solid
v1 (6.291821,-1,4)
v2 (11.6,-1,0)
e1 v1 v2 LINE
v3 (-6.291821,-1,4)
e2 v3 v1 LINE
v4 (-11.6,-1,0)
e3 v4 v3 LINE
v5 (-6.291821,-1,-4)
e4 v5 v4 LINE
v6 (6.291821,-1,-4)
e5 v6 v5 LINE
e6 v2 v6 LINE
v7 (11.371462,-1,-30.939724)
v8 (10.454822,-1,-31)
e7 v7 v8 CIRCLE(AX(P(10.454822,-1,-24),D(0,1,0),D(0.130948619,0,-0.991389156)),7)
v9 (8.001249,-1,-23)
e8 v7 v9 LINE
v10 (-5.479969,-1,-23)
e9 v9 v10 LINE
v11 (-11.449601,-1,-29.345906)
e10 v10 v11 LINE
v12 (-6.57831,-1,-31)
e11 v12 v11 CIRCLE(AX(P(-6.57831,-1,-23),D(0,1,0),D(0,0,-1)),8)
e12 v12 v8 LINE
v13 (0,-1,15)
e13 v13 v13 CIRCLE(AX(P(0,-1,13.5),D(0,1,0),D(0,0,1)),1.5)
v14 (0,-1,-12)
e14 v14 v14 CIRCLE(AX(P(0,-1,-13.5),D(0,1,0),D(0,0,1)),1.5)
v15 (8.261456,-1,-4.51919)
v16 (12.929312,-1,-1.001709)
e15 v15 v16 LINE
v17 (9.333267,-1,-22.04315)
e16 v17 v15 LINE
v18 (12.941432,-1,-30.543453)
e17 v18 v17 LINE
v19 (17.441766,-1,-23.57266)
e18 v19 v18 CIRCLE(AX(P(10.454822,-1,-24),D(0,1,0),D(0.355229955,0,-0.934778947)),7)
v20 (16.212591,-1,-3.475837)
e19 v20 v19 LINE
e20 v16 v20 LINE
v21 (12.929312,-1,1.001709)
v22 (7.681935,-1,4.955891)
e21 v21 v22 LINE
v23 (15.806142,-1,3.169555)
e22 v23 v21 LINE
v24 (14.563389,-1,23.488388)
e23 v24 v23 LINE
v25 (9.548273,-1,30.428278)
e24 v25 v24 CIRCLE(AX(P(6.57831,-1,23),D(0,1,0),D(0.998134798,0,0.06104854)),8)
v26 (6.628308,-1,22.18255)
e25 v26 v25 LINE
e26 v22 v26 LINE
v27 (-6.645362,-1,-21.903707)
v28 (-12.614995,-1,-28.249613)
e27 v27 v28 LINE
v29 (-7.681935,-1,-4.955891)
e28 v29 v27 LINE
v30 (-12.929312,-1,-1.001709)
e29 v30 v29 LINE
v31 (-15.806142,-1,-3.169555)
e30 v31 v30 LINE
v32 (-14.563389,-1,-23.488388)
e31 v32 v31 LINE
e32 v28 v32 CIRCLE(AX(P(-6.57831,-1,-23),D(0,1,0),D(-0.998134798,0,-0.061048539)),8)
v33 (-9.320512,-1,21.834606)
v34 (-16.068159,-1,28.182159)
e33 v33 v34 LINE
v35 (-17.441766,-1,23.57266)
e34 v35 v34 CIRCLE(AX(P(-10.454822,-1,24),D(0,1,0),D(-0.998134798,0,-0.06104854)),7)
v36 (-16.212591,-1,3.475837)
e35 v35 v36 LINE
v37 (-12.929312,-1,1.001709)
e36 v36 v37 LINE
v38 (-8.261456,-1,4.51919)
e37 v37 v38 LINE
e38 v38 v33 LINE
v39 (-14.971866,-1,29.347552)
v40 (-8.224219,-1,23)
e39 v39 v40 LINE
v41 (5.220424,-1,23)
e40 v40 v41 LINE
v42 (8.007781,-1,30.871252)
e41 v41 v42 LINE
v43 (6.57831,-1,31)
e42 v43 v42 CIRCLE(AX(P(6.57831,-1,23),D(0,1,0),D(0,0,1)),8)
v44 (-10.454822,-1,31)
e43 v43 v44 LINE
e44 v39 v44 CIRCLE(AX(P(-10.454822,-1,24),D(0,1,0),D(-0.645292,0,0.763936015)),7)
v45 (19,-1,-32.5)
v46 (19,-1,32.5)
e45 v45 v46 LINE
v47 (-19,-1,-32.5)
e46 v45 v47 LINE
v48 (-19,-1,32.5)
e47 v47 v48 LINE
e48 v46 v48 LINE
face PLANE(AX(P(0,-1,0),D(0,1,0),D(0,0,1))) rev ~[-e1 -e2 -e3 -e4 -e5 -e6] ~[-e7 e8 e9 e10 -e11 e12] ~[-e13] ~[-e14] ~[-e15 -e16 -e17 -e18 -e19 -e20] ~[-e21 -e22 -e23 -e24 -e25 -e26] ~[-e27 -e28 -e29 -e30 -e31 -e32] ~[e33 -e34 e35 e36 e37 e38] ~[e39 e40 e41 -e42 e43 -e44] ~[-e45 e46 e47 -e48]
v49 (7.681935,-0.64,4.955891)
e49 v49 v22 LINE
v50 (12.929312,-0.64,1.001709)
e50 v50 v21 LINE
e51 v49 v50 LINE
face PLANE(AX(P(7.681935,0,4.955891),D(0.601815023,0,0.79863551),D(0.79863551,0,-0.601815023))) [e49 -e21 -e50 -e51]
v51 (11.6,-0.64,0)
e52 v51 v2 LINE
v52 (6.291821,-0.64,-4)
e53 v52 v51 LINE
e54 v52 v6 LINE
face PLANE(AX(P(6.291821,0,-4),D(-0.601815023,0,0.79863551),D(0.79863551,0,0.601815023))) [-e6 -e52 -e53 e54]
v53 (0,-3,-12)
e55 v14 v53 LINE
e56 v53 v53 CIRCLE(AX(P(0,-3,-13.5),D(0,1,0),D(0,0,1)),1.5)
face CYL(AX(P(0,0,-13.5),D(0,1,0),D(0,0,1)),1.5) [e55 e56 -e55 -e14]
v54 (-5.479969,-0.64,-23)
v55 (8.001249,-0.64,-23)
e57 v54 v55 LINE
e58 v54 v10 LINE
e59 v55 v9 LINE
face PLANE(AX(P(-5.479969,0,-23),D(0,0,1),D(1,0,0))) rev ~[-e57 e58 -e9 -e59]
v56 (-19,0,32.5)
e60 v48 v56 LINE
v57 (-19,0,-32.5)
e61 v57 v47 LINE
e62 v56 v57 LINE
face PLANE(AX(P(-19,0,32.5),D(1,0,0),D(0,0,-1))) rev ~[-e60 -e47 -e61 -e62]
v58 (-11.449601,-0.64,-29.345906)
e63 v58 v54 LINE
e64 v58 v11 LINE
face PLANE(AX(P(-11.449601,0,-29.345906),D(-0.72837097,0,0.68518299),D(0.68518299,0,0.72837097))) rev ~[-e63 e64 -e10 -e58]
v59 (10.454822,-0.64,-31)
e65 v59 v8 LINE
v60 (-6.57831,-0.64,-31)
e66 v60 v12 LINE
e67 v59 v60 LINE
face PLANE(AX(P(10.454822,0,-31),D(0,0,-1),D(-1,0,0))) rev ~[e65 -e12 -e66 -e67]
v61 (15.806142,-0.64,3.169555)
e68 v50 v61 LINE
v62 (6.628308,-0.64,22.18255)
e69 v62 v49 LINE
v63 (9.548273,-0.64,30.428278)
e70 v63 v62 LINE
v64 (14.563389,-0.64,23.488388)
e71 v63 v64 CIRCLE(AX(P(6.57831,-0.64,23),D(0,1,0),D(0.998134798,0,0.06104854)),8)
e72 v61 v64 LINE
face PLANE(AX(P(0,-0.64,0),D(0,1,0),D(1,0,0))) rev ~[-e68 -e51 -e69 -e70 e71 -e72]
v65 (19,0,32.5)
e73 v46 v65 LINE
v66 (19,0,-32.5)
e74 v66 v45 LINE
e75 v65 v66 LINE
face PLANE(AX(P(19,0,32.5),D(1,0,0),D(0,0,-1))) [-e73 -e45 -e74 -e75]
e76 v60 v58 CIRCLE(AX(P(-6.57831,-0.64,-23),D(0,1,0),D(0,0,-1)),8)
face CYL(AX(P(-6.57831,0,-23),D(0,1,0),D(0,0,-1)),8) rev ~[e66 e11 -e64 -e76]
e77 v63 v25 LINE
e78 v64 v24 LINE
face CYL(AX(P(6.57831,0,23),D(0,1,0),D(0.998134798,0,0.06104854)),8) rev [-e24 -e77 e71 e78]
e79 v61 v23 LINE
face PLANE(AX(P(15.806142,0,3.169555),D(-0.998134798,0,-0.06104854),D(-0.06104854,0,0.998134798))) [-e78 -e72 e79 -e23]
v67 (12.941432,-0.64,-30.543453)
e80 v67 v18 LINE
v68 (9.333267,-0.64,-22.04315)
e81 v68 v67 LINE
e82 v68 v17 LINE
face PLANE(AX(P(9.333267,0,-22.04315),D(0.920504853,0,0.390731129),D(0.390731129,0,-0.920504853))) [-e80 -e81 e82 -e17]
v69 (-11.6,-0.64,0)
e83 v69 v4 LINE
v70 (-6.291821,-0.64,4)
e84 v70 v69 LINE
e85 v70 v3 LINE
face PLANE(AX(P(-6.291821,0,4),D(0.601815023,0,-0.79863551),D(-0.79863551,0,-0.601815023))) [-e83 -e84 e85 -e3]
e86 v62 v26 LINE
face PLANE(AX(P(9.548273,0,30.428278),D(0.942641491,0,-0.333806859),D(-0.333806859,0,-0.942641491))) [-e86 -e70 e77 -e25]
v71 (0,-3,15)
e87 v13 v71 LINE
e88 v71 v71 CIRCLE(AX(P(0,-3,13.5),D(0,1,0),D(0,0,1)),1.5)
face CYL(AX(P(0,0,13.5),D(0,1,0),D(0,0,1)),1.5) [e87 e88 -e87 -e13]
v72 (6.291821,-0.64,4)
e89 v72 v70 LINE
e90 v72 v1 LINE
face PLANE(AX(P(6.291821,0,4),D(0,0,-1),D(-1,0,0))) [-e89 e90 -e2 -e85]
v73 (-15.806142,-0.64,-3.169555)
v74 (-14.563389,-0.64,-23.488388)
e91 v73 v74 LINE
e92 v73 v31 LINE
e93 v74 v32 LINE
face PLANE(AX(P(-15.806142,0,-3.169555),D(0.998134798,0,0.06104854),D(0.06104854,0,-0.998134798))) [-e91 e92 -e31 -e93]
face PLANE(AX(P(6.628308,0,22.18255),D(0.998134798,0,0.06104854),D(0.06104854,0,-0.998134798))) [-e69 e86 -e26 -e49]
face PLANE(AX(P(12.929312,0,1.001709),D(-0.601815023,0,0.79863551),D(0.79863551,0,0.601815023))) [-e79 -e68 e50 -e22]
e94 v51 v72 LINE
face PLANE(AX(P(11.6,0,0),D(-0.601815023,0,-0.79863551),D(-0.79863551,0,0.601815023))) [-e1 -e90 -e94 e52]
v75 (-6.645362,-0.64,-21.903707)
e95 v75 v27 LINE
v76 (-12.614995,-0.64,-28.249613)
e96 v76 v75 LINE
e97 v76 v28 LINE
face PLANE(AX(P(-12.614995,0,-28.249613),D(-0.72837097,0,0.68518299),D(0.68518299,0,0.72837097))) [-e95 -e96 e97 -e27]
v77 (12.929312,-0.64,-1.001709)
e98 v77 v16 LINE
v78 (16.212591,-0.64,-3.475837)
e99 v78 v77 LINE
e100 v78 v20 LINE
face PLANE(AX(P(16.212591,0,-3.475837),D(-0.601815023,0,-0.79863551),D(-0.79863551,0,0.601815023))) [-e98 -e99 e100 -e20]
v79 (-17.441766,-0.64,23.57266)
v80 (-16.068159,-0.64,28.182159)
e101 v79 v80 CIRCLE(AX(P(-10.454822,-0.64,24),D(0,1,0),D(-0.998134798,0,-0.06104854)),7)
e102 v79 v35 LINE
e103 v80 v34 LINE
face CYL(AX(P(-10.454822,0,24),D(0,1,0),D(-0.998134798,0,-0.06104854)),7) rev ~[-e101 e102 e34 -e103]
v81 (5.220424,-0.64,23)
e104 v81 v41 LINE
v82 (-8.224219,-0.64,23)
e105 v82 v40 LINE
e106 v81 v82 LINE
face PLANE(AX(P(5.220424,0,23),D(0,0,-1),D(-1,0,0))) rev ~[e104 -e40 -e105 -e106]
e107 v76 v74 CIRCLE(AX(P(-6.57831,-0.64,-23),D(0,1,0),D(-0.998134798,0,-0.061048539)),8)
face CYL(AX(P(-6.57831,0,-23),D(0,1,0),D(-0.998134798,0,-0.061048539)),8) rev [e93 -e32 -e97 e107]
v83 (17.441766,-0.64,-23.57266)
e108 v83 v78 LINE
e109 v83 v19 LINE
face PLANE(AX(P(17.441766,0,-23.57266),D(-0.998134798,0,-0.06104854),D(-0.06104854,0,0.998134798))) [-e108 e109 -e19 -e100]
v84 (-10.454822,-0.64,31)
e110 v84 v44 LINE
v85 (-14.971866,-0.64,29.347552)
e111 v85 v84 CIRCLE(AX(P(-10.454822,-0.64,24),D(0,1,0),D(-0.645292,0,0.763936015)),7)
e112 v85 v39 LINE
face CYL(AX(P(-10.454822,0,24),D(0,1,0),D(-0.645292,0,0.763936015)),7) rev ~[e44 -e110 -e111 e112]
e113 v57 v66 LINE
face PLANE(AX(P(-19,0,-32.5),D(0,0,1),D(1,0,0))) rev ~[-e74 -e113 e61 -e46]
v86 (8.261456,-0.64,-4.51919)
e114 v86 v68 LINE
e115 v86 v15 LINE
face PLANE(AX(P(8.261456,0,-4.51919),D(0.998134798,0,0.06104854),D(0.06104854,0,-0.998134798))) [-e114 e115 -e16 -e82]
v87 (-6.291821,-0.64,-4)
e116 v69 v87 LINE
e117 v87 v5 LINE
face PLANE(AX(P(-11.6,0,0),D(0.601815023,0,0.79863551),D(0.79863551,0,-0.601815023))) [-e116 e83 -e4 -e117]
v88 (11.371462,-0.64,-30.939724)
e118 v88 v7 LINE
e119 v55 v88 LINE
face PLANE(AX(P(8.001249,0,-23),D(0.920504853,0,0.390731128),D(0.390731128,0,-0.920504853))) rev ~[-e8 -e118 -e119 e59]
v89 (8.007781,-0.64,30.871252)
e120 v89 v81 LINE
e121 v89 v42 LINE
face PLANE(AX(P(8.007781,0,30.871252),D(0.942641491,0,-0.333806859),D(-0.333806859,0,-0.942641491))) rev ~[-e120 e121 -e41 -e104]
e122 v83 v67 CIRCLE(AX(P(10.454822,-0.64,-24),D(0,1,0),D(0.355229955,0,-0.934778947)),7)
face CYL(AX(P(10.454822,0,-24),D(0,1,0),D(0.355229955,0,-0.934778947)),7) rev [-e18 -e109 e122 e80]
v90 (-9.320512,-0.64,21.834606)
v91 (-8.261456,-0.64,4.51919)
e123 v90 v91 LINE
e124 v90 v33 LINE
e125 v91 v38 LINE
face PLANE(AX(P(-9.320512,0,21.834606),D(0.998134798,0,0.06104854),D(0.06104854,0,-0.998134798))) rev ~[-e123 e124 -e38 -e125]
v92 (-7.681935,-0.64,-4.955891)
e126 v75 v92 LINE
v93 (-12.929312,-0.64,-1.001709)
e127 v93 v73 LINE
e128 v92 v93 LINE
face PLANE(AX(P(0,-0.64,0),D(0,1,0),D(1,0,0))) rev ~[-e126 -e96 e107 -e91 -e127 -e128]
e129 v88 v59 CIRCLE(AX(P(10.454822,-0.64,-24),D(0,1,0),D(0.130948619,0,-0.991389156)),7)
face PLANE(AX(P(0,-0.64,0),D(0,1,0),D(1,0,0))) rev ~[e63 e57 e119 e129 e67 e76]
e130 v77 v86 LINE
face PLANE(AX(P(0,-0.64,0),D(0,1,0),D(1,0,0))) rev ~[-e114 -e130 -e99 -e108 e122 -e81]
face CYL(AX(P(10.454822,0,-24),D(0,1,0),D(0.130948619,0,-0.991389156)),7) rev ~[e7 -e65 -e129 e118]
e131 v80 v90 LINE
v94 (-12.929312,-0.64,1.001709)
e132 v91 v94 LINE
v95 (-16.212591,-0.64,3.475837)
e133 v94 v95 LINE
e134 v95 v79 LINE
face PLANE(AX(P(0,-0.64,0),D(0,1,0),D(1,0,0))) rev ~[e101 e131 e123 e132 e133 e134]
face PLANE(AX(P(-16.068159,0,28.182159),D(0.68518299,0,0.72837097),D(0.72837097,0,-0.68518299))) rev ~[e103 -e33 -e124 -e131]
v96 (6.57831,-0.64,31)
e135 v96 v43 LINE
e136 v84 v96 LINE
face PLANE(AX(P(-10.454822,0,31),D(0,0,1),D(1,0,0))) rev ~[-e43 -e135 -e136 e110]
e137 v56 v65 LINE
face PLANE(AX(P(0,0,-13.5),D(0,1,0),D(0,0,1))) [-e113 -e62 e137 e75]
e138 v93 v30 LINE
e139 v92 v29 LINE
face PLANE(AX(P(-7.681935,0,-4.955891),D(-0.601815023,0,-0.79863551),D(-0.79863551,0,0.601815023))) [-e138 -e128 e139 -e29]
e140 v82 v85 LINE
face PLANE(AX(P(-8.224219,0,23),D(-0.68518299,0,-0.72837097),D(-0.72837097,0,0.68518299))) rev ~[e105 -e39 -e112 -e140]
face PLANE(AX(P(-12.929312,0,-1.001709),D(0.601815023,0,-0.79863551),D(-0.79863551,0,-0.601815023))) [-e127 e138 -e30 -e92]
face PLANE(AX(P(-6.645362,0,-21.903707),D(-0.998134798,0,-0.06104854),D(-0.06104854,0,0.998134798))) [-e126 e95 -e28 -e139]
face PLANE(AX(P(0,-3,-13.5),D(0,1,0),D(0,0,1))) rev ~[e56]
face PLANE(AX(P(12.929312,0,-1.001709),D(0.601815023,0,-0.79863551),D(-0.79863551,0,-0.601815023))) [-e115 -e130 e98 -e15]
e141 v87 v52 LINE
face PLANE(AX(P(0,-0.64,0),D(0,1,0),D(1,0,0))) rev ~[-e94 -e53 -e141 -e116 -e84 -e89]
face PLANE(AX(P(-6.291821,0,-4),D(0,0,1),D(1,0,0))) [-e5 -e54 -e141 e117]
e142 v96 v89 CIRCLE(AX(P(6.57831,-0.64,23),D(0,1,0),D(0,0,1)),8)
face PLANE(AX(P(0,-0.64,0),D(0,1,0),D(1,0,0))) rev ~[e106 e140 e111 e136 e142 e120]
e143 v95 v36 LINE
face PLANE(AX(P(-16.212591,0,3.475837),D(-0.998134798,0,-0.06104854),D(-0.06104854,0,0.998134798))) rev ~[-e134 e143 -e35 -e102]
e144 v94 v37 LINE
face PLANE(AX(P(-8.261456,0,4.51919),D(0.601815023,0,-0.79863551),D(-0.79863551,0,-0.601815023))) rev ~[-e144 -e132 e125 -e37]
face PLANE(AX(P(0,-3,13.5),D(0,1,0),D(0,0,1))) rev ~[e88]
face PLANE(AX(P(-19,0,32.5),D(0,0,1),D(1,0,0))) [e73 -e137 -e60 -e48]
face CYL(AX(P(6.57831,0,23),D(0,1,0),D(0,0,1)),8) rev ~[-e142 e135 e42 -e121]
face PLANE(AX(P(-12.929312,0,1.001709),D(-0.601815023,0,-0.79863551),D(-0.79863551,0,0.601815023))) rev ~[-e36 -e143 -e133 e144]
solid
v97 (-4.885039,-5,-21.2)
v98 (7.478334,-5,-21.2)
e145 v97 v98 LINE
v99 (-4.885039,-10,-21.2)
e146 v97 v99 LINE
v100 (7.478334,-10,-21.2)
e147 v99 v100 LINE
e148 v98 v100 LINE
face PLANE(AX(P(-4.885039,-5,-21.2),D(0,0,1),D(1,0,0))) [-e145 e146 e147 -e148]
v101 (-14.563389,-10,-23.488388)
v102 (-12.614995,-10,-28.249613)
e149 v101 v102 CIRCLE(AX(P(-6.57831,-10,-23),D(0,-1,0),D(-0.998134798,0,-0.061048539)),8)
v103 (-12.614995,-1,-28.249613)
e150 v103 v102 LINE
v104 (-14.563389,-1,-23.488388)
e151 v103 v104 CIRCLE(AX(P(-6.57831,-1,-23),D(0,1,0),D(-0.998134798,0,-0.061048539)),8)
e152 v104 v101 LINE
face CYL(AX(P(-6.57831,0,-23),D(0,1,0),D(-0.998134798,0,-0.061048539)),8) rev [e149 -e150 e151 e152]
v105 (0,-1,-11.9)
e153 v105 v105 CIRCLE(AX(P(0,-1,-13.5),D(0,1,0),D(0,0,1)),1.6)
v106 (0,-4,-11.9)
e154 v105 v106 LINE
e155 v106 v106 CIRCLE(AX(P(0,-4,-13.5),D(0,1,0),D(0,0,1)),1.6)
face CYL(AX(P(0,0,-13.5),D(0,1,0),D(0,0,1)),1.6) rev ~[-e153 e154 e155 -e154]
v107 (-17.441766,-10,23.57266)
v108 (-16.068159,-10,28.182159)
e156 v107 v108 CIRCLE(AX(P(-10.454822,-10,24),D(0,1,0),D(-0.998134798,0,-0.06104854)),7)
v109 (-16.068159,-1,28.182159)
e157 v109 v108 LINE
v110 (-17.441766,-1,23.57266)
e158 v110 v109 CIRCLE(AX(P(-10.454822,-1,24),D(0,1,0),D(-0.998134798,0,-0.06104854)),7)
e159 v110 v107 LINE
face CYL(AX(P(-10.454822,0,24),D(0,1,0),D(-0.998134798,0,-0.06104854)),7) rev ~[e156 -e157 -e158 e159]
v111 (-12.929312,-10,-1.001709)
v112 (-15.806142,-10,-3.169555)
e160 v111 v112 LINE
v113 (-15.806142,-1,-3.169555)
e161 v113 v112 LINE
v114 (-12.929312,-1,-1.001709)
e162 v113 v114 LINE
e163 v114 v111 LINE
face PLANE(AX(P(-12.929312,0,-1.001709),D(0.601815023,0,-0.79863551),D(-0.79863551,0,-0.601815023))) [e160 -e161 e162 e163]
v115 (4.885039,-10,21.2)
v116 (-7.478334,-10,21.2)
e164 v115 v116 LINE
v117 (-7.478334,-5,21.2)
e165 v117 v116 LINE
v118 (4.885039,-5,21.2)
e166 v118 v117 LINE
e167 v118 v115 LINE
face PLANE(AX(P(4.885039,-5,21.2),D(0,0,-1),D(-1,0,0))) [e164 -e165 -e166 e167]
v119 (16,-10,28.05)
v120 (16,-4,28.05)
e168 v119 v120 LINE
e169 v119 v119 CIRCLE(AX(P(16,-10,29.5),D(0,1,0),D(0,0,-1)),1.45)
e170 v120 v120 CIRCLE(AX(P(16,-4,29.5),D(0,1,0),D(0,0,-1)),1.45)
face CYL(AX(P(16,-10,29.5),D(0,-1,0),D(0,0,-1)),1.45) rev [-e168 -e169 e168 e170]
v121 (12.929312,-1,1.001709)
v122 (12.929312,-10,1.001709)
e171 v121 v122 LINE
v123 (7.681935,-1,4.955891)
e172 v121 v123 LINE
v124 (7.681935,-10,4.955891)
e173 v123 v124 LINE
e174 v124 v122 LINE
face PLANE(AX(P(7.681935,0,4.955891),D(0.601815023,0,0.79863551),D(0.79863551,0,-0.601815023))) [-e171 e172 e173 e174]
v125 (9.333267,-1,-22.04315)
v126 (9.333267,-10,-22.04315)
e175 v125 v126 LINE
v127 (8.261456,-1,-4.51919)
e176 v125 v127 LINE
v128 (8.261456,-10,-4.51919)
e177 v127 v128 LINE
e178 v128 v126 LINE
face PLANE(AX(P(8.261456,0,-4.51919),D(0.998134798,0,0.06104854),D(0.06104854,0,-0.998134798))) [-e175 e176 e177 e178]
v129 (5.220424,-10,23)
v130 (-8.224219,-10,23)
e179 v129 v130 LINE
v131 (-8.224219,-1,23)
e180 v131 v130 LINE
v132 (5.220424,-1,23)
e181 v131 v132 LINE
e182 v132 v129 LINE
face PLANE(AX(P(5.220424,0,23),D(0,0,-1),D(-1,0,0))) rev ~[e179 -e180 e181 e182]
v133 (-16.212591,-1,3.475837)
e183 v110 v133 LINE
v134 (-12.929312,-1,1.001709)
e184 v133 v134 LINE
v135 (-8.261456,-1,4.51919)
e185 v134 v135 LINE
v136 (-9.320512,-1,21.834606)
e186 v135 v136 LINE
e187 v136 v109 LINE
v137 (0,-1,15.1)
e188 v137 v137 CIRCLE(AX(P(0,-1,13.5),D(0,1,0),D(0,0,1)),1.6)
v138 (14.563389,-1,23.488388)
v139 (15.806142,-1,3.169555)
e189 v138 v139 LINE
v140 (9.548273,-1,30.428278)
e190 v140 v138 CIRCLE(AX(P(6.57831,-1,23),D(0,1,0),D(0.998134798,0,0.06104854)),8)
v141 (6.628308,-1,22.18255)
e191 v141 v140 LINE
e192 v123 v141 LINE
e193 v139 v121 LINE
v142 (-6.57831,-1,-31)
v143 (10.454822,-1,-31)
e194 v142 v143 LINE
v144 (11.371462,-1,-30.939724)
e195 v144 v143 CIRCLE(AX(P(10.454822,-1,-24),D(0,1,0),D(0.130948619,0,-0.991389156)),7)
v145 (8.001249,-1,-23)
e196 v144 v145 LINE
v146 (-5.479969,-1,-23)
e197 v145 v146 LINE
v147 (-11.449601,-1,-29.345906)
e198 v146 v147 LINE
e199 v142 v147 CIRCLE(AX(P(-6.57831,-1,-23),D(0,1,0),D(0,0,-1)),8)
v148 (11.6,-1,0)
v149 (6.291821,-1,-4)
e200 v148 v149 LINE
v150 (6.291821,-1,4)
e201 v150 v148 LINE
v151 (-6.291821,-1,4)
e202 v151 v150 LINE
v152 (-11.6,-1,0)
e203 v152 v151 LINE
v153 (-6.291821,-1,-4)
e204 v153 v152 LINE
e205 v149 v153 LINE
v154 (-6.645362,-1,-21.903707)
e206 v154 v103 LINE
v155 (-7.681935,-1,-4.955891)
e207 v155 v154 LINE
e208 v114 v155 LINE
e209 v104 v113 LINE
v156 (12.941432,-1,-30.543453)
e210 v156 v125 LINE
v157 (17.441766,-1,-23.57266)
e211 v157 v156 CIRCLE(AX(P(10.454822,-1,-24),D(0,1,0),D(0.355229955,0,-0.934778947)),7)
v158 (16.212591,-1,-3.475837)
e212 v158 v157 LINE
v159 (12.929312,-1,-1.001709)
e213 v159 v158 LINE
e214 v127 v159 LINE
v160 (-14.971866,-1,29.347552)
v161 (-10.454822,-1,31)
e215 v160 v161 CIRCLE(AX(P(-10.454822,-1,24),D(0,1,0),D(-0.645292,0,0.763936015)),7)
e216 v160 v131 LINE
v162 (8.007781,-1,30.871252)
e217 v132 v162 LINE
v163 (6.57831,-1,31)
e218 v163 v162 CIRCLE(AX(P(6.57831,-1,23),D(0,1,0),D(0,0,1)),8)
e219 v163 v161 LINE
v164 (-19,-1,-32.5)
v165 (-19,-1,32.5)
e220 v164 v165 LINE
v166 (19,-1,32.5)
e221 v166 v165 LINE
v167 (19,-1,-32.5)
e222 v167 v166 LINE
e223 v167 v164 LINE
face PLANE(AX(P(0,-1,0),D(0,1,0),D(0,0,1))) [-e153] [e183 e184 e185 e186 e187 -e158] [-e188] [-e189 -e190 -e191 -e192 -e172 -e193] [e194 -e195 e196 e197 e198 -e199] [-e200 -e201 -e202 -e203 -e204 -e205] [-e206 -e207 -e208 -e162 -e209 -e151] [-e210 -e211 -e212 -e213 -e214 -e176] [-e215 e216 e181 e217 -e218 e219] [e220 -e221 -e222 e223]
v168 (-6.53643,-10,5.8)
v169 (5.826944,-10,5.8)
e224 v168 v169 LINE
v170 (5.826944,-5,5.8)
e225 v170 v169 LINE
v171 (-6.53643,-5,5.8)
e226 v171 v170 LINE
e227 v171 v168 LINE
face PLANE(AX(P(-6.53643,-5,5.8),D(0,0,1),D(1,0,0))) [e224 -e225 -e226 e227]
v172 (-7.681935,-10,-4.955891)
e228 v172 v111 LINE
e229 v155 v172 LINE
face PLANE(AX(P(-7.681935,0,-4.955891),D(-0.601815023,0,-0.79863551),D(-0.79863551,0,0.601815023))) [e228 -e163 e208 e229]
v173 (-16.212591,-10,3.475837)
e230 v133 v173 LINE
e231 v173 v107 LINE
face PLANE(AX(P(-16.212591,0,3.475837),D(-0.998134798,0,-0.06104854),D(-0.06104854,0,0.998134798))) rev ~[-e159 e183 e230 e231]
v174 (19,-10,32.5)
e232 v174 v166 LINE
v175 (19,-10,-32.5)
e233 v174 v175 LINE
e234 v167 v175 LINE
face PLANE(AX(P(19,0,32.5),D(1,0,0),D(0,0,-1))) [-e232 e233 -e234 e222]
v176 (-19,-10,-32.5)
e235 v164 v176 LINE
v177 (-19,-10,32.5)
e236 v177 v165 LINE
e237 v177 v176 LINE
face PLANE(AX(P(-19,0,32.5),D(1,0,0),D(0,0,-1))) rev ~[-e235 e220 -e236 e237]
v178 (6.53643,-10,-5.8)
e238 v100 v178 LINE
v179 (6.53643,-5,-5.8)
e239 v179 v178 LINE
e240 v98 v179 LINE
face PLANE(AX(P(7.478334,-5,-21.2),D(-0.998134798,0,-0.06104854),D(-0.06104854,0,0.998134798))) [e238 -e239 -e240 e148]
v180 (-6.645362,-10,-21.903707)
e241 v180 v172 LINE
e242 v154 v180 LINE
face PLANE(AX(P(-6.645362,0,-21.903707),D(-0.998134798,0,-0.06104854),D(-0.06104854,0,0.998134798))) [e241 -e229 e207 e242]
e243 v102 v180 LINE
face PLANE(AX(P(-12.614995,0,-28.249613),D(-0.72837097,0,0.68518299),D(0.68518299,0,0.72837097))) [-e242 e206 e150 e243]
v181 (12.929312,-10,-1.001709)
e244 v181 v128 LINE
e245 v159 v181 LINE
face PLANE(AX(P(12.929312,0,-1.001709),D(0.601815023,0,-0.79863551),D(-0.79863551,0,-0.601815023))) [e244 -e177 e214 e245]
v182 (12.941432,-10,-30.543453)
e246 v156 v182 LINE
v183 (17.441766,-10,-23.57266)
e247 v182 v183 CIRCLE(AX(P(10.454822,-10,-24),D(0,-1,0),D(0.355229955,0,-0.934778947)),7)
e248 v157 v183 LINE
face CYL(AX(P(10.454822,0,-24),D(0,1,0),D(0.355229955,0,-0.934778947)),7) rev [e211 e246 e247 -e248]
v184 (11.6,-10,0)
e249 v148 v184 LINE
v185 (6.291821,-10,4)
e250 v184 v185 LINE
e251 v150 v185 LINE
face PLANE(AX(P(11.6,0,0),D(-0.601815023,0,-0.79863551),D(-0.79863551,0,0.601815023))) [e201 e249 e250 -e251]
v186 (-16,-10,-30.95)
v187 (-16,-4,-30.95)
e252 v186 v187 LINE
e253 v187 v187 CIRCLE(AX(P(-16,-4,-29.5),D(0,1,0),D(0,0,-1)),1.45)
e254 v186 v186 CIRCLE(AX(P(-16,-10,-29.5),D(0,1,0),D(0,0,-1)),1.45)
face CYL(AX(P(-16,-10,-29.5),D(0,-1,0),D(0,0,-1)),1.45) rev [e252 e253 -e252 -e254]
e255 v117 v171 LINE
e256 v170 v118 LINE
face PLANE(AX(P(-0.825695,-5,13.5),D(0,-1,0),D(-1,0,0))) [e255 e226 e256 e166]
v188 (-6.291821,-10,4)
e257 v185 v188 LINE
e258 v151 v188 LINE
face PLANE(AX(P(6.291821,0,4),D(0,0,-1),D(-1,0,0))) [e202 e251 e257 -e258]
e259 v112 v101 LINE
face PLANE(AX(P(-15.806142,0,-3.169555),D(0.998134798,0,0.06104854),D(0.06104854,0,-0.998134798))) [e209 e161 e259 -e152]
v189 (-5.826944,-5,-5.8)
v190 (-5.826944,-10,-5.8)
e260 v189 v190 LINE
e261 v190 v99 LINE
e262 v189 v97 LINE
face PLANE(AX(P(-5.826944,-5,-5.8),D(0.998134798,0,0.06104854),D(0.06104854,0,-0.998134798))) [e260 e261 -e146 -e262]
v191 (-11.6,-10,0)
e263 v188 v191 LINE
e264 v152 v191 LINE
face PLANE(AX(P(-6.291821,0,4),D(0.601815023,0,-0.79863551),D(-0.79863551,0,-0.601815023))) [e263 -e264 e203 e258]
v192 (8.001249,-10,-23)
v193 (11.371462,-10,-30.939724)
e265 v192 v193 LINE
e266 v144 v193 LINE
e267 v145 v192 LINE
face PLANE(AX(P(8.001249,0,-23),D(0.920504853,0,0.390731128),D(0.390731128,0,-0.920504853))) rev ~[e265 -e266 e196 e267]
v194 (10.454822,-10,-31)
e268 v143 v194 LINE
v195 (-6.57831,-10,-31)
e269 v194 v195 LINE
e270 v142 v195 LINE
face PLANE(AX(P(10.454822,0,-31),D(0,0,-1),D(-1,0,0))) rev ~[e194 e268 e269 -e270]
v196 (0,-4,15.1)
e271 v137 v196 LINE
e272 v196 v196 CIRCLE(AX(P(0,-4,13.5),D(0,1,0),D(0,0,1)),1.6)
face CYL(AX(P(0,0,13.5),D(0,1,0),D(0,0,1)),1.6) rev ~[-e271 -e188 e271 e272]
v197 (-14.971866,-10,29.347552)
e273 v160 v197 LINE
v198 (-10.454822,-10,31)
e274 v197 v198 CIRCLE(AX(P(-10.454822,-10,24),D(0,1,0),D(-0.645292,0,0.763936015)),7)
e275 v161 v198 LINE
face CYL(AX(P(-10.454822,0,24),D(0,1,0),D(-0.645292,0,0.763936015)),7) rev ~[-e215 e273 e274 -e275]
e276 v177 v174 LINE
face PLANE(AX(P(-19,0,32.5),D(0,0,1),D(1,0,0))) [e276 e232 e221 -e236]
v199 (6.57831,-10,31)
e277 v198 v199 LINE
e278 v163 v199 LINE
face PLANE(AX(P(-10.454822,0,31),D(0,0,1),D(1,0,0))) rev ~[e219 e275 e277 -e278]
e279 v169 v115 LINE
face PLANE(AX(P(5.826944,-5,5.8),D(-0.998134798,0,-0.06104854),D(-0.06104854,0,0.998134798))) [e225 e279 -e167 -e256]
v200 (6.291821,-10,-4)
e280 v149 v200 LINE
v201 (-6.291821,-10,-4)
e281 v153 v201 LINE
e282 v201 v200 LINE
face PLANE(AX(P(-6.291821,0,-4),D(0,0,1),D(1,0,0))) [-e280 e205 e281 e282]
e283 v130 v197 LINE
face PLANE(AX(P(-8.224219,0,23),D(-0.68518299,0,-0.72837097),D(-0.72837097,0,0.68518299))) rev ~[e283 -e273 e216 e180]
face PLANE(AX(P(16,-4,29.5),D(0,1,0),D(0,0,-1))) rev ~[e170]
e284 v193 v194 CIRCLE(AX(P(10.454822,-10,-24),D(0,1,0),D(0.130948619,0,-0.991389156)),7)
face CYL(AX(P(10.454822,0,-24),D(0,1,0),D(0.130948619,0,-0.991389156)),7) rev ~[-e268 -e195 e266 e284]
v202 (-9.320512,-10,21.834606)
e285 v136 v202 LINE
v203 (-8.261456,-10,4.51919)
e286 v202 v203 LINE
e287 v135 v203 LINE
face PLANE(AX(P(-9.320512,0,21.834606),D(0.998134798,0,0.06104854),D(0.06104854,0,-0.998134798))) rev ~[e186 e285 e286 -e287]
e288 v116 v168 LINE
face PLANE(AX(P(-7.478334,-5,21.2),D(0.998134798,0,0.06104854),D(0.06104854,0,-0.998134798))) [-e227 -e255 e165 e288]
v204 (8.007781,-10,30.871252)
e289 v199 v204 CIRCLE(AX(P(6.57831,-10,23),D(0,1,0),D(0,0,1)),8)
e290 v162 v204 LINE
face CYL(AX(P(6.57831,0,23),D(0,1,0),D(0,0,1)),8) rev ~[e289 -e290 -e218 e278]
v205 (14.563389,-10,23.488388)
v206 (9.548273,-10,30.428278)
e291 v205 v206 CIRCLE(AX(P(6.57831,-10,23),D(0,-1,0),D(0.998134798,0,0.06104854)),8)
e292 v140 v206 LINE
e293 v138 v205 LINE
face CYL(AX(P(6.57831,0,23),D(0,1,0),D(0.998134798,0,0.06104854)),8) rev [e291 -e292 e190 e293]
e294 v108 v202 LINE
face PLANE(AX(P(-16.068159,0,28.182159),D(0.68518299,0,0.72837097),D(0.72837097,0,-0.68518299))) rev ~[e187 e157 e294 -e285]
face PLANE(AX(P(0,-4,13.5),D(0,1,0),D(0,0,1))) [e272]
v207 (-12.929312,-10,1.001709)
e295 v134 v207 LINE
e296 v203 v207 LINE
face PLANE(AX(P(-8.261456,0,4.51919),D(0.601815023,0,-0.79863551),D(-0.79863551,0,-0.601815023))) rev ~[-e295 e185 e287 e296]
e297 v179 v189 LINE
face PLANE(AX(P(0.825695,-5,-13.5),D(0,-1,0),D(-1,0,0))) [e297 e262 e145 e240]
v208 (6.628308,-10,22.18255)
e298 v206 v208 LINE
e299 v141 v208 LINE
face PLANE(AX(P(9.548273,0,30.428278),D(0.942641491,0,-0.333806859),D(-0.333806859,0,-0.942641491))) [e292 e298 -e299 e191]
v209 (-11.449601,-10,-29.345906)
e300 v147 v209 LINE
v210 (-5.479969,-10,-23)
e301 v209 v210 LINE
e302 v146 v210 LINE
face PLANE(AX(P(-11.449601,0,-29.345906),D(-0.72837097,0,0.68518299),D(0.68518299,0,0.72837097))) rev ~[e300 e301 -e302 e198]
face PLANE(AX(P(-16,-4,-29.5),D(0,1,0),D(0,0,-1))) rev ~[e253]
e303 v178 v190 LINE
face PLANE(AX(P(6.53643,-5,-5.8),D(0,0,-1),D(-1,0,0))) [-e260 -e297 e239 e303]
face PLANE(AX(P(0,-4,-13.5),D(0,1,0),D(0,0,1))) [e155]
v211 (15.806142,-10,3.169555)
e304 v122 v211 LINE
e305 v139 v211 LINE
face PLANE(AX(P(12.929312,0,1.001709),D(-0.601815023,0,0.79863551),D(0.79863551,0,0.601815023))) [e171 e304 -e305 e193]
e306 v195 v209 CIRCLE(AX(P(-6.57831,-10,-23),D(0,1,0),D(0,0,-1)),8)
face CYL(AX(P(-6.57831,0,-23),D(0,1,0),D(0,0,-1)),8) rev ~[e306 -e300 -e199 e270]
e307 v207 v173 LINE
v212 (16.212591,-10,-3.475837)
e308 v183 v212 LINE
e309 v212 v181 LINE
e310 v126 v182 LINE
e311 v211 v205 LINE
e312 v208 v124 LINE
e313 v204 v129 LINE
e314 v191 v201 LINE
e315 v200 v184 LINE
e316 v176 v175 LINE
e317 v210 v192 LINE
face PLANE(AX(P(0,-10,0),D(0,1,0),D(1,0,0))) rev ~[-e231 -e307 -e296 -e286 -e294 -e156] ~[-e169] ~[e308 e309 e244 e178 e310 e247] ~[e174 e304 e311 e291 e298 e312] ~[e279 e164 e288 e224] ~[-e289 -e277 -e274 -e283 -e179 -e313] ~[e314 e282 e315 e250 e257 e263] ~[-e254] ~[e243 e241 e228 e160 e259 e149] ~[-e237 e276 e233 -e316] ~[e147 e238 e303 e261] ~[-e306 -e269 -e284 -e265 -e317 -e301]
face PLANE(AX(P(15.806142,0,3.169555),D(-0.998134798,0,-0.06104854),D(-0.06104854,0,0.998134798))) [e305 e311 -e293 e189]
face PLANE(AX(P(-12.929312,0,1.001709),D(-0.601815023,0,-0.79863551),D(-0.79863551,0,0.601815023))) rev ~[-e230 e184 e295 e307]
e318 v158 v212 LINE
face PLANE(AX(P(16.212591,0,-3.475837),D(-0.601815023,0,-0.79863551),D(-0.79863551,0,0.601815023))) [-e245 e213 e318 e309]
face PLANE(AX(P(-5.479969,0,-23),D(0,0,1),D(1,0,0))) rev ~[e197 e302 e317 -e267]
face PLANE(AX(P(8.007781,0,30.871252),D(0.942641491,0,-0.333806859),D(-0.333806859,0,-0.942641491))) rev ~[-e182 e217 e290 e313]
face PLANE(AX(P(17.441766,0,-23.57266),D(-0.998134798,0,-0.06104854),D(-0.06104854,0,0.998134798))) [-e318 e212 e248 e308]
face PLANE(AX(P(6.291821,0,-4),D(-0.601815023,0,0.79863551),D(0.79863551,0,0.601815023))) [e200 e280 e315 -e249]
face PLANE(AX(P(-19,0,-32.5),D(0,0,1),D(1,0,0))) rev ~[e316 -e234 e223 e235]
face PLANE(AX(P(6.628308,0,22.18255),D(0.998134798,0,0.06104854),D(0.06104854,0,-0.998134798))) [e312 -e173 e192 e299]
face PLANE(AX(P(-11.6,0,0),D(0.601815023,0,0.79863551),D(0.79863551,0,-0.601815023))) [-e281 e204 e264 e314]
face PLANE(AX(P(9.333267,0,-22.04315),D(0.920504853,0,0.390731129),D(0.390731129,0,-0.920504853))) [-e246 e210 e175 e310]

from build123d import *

# Parameters (mm, degrees)
SKETCH3_W           = 38
SKETCH3_H           = 65
BOSS_EXTRUDE1_DEPTH = 0.64
SKETCH3_3_W         = 38
SKETCH3_3_H         = 65
BOSS_EXTRUDE2_DEPTH = 10
SKETCH6_R           = 1.5
BOSS_EXTRUDE3_DEPTH = 3
SKETCH6_3_R         = 1.6
SKETCH6_3_R_2       = 1.5
CUT_EXTRUDE2_DEPTH  = 4
CUT_EXTRUDE1_START  = -10
SKETCH5_R           = 1.45
CUT_EXTRUDE1_DEPTH  = 6
CUT_EXTRUDE3_START  = -5
SKETCH6_4_R         = 1.6
SKETCH6_4_R_2       = 1.5
CUT_EXTRUDE3_DEPTH  = 5


with BuildPart() as part:
    # Sketch3 → Boss-Extrude1 (new body)
    with BuildSketch(Plane(origin=(0, 0, 0), x_dir=(1, 0, 0), z_dir=(0, 1, 0))):
        Rectangle(SKETCH3_W, SKETCH3_H)
    extrude(amount=-BOSS_EXTRUDE1_DEPTH)

    # Sketch3<3> → Boss-Extrude2 (add)
    with BuildSketch(Plane(origin=(0, 0, 0), x_dir=(1, 0, 0), z_dir=(0, 1, 0))):
        Rectangle(SKETCH3_3_W, SKETCH3_3_H)
        with BuildLine():
            Line((-15.806141704, 3.169555117), (-14.563388627, 23.488388316))
            ThreePointArc((-14.563388627, 23.488388316), (-13.982347964, 26.029888674), (-12.614994756, 28.249613324))
            Line((-12.614994756, 28.249613324), (-6.645362379, 21.903707215))
            Line((-6.645362379, 21.903707215), (-7.681935248, 4.955890615))
            Line((-7.681935248, 4.955890615), (-12.929312113, 1.001708527))
            Line((-12.929312113, 1.001708527), (-15.806141704, 3.169555117))
        make_face(mode=Mode.SUBTRACT)
        with BuildLine():
            Line((-11.449601204, 29.345906109), (-5.479968827, 23))
            Line((-5.479968827, 23), (8.001249484, 23))
            Line((8.001249484, 23), (11.371462409, 30.939724094))
            ThreePointArc((11.371462409, 30.939724094), (10.91413207, 30.984914769), (10.454822074, 31))
            Line((10.454822074, 31), (-6.57831024, 31))
            ThreePointArc((-6.57831024, 31), (-9.150541871, 30.57519798), (-11.449601204, 29.345906109))
        make_face(mode=Mode.SUBTRACT)
        Polygon((-11.6, 0), (-6.291820714, 4), (6.291820714, 4), (11.6, 0), (6.291820714, -4), (-6.291820714, -4), align=None, mode=Mode.SUBTRACT)
        with BuildLine():
            Line((9.333267306, 22.043149873), (12.941431756, 30.543452628))
            ThreePointArc((12.941431756, 30.543452628), (16.335726731, 27.796703889), (17.441765663, 23.572660223))
            Line((17.441765663, 23.572660223), (16.212591289, 3.475836847))
            Line((16.212591289, 3.475836847), (12.929312113, 1.001708527))
            Line((12.929312113, 1.001708527), (8.261456028, 4.519190384))
            Line((8.261456028, 4.519190384), (9.333267306, 22.043149873))
        make_face(mode=Mode.SUBTRACT)
        with BuildLine():
            Line((6.62830762, -22.182550065), (7.681935248, -4.955890615))
            Line((7.681935248, -4.955890615), (12.929312113, -1.001708527))
            Line((12.929312113, -1.001708527), (15.806141704, -3.169555117))
            Line((15.806141704, -3.169555117), (14.563388627, -23.488388316))
            ThreePointArc((14.563388627, -23.488388316), (13.062425539, -27.685749543), (9.548273172, -30.428278413))
            Line((9.548273172, -30.428278413), (6.62830762, -22.182550065))
        make_face(mode=Mode.SUBTRACT)
        with BuildLine():
            Line((8.007780574, -30.871252414), (5.220423905, -23))
            Line((5.220423905, -23), (-8.224219459, -23))
            Line((-8.224219459, -23), (-14.971866072, -29.347552106))
            ThreePointArc((-14.971866072, -29.347552106), (-12.859726985, -30.573920624), (-10.454822074, -31))
            Line((-10.454822074, -31), (6.57831024, -31))
            ThreePointArc((6.57831024, -31), (7.295938517, -30.967748092), (8.007780574, -30.871252414))
        make_face(mode=Mode.SUBTRACT)
        with BuildLine():
            Line((-16.068158856, -28.182158554), (-9.320512244, -21.834606448))
            Line((-9.320512244, -21.834606448), (-8.261456028, -4.519190384))
            Line((-8.261456028, -4.519190384), (-12.929312113, -1.001708527))
            Line((-12.929312113, -1.001708527), (-16.212591289, -3.475836847))
            Line((-16.212591289, -3.475836847), (-17.441765663, -23.572660223))
            ThreePointArc((-17.441765663, -23.572660223), (-17.163296944, -25.999091025), (-16.068158856, -28.182158554))
        make_face(mode=Mode.SUBTRACT)
    extrude(amount=-BOSS_EXTRUDE2_DEPTH)


with BuildPart() as body_2:
    # Split1: the piece on the far side of the plane
    add(part.part)
    split(bisect_by=Plane.ZX.offset(-1), keep=Keep.BOTTOM)

    # Sketch6<3> → Cut-Extrude2 (cut)
    # profile 1 of 4: a face of its own
    with BuildSketch(Plane(origin=(0, 0, 0), x_dir=(1, 0, 0), z_dir=(0, 1, 0))):
        with Locations(Location((0, 13.5, 0), (0, 0, 270))):
            Circle(SKETCH6_3_R)
        with Locations(Location((0, 13.5, 0), (0, 0, 270))):
            Circle(SKETCH6_3_R_2, mode=Mode.SUBTRACT)
    # profile 2 of 4: a face of its own
    with BuildSketch(Plane(origin=(0, 0, 0), x_dir=(1, 0, 0), z_dir=(0, 1, 0))):
        with Locations(Location((0, 13.5, 0), (0, 0, 270))):
            Circle(SKETCH6_3_R_2)
    # profile 3 of 4: a face of its own
    with BuildSketch(Plane(origin=(0, 0, 0), x_dir=(1, 0, 0), z_dir=(0, 1, 0))):
        with Locations(Location((0, -13.5, 0), (0, 0, 270))):
            Circle(SKETCH6_3_R)
        with Locations(Location((0, -13.5, 0), (0, 0, 270))):
            Circle(SKETCH6_3_R_2, mode=Mode.SUBTRACT)
    # profile 4 of 4: a face of its own
    with BuildSketch(Plane(origin=(0, 0, 0), x_dir=(1, 0, 0), z_dir=(0, 1, 0))):
        with Locations(Location((0, -13.5, 0), (0, 0, 270))):
            Circle(SKETCH6_3_R_2)
    extrude(amount=-CUT_EXTRUDE2_DEPTH, mode=Mode.SUBTRACT)

    # Sketch5 → Cut-Extrude1 (cut)
    with BuildSketch(Plane(origin=(0, 0, 0), x_dir=(1, 0, 0), z_dir=(0, 1, 0)).offset(CUT_EXTRUDE1_START)):
        with Locations(Location((-16, 29.5, 0), (0, 0, 90))):
            Circle(SKETCH5_R)
        with Locations(Location((16, -29.5, 0), (0, 0, 90))):
            Circle(SKETCH5_R)
    extrude(amount=CUT_EXTRUDE1_DEPTH, mode=Mode.SUBTRACT)

    # Sketch6<4> → Cut-Extrude3 (cut)
    # profile 1 of 6: a face of its own
    with BuildSketch(Plane(origin=(0, 0, 0), x_dir=(1, 0, 0), z_dir=(0, 1, 0)).offset(CUT_EXTRUDE3_START)):
        Polygon((7.478334414, 21.2), (6.536430064, 5.8), (-5.82694367, 5.8), (-4.88503932, 21.2), align=None)
        with Locations(Location((0, 13.5, 0), (0, 0, 270))):
            Circle(SKETCH6_4_R, mode=Mode.SUBTRACT)
    # profile 2 of 6: a face of its own
    with BuildSketch(Plane(origin=(0, 0, 0), x_dir=(1, 0, 0), z_dir=(0, 1, 0)).offset(CUT_EXTRUDE3_START)):
        with Locations(Location((0, 13.5, 0), (0, 0, 270))):
            Circle(SKETCH6_4_R)
        with Locations(Location((0, 13.5, 0), (0, 0, 270))):
            Circle(SKETCH6_4_R_2, mode=Mode.SUBTRACT)
    # profile 3 of 6: a face of its own
    with BuildSketch(Plane(origin=(0, 0, 0), x_dir=(1, 0, 0), z_dir=(0, 1, 0)).offset(CUT_EXTRUDE3_START)):
        with Locations(Location((0, 13.5, 0), (0, 0, 270))):
            Circle(SKETCH6_4_R_2)
    # profile 4 of 6: a face of its own
    with BuildSketch(Plane(origin=(0, 0, 0), x_dir=(1, 0, 0), z_dir=(0, 1, 0)).offset(CUT_EXTRUDE3_START)):
        Polygon((5.82694367, -5.8), (4.88503932, -21.2), (-7.478334414, -21.2), (-6.536430064, -5.8), align=None)
        with Locations(Location((0, -13.5, 0), (0, 0, 270))):
            Circle(SKETCH6_4_R, mode=Mode.SUBTRACT)
    # profile 5 of 6: a face of its own
    with BuildSketch(Plane(origin=(0, 0, 0), x_dir=(1, 0, 0), z_dir=(0, 1, 0)).offset(CUT_EXTRUDE3_START)):
        with Locations(Location((0, -13.5, 0), (0, 0, 270))):
            Circle(SKETCH6_4_R)
        with Locations(Location((0, -13.5, 0), (0, 0, 270))):
            Circle(SKETCH6_4_R_2, mode=Mode.SUBTRACT)
    # profile 6 of 6: a face of its own
    with BuildSketch(Plane(origin=(0, 0, 0), x_dir=(1, 0, 0), z_dir=(0, 1, 0)).offset(CUT_EXTRUDE3_START)):
        with Locations(Location((0, -13.5, 0), (0, 0, 270))):
            Circle(SKETCH6_4_R_2)
    extrude(amount=-CUT_EXTRUDE3_DEPTH, mode=Mode.SUBTRACT)


with BuildPart() as part_1:
    add(part.part)

    # Split1
    split(bisect_by=Plane.ZX.offset(-1), keep=Keep.TOP)

    # Sketch6 → Boss-Extrude3 (add)
    with BuildSketch(Plane(origin=(0, 0, 0), x_dir=(1, 0, 0), z_dir=(0, 1, 0))):
        with Locations(Location((0, 13.5, 0), (0, 0, 270))):
            Circle(SKETCH6_R)
        with Locations(Location((0, -13.5, 0), (0, 0, 270))):
            Circle(SKETCH6_R)
    extrude(amount=-BOSS_EXTRUDE3_DEPTH)


solid = Compound([body_2.part, part_1.part])
